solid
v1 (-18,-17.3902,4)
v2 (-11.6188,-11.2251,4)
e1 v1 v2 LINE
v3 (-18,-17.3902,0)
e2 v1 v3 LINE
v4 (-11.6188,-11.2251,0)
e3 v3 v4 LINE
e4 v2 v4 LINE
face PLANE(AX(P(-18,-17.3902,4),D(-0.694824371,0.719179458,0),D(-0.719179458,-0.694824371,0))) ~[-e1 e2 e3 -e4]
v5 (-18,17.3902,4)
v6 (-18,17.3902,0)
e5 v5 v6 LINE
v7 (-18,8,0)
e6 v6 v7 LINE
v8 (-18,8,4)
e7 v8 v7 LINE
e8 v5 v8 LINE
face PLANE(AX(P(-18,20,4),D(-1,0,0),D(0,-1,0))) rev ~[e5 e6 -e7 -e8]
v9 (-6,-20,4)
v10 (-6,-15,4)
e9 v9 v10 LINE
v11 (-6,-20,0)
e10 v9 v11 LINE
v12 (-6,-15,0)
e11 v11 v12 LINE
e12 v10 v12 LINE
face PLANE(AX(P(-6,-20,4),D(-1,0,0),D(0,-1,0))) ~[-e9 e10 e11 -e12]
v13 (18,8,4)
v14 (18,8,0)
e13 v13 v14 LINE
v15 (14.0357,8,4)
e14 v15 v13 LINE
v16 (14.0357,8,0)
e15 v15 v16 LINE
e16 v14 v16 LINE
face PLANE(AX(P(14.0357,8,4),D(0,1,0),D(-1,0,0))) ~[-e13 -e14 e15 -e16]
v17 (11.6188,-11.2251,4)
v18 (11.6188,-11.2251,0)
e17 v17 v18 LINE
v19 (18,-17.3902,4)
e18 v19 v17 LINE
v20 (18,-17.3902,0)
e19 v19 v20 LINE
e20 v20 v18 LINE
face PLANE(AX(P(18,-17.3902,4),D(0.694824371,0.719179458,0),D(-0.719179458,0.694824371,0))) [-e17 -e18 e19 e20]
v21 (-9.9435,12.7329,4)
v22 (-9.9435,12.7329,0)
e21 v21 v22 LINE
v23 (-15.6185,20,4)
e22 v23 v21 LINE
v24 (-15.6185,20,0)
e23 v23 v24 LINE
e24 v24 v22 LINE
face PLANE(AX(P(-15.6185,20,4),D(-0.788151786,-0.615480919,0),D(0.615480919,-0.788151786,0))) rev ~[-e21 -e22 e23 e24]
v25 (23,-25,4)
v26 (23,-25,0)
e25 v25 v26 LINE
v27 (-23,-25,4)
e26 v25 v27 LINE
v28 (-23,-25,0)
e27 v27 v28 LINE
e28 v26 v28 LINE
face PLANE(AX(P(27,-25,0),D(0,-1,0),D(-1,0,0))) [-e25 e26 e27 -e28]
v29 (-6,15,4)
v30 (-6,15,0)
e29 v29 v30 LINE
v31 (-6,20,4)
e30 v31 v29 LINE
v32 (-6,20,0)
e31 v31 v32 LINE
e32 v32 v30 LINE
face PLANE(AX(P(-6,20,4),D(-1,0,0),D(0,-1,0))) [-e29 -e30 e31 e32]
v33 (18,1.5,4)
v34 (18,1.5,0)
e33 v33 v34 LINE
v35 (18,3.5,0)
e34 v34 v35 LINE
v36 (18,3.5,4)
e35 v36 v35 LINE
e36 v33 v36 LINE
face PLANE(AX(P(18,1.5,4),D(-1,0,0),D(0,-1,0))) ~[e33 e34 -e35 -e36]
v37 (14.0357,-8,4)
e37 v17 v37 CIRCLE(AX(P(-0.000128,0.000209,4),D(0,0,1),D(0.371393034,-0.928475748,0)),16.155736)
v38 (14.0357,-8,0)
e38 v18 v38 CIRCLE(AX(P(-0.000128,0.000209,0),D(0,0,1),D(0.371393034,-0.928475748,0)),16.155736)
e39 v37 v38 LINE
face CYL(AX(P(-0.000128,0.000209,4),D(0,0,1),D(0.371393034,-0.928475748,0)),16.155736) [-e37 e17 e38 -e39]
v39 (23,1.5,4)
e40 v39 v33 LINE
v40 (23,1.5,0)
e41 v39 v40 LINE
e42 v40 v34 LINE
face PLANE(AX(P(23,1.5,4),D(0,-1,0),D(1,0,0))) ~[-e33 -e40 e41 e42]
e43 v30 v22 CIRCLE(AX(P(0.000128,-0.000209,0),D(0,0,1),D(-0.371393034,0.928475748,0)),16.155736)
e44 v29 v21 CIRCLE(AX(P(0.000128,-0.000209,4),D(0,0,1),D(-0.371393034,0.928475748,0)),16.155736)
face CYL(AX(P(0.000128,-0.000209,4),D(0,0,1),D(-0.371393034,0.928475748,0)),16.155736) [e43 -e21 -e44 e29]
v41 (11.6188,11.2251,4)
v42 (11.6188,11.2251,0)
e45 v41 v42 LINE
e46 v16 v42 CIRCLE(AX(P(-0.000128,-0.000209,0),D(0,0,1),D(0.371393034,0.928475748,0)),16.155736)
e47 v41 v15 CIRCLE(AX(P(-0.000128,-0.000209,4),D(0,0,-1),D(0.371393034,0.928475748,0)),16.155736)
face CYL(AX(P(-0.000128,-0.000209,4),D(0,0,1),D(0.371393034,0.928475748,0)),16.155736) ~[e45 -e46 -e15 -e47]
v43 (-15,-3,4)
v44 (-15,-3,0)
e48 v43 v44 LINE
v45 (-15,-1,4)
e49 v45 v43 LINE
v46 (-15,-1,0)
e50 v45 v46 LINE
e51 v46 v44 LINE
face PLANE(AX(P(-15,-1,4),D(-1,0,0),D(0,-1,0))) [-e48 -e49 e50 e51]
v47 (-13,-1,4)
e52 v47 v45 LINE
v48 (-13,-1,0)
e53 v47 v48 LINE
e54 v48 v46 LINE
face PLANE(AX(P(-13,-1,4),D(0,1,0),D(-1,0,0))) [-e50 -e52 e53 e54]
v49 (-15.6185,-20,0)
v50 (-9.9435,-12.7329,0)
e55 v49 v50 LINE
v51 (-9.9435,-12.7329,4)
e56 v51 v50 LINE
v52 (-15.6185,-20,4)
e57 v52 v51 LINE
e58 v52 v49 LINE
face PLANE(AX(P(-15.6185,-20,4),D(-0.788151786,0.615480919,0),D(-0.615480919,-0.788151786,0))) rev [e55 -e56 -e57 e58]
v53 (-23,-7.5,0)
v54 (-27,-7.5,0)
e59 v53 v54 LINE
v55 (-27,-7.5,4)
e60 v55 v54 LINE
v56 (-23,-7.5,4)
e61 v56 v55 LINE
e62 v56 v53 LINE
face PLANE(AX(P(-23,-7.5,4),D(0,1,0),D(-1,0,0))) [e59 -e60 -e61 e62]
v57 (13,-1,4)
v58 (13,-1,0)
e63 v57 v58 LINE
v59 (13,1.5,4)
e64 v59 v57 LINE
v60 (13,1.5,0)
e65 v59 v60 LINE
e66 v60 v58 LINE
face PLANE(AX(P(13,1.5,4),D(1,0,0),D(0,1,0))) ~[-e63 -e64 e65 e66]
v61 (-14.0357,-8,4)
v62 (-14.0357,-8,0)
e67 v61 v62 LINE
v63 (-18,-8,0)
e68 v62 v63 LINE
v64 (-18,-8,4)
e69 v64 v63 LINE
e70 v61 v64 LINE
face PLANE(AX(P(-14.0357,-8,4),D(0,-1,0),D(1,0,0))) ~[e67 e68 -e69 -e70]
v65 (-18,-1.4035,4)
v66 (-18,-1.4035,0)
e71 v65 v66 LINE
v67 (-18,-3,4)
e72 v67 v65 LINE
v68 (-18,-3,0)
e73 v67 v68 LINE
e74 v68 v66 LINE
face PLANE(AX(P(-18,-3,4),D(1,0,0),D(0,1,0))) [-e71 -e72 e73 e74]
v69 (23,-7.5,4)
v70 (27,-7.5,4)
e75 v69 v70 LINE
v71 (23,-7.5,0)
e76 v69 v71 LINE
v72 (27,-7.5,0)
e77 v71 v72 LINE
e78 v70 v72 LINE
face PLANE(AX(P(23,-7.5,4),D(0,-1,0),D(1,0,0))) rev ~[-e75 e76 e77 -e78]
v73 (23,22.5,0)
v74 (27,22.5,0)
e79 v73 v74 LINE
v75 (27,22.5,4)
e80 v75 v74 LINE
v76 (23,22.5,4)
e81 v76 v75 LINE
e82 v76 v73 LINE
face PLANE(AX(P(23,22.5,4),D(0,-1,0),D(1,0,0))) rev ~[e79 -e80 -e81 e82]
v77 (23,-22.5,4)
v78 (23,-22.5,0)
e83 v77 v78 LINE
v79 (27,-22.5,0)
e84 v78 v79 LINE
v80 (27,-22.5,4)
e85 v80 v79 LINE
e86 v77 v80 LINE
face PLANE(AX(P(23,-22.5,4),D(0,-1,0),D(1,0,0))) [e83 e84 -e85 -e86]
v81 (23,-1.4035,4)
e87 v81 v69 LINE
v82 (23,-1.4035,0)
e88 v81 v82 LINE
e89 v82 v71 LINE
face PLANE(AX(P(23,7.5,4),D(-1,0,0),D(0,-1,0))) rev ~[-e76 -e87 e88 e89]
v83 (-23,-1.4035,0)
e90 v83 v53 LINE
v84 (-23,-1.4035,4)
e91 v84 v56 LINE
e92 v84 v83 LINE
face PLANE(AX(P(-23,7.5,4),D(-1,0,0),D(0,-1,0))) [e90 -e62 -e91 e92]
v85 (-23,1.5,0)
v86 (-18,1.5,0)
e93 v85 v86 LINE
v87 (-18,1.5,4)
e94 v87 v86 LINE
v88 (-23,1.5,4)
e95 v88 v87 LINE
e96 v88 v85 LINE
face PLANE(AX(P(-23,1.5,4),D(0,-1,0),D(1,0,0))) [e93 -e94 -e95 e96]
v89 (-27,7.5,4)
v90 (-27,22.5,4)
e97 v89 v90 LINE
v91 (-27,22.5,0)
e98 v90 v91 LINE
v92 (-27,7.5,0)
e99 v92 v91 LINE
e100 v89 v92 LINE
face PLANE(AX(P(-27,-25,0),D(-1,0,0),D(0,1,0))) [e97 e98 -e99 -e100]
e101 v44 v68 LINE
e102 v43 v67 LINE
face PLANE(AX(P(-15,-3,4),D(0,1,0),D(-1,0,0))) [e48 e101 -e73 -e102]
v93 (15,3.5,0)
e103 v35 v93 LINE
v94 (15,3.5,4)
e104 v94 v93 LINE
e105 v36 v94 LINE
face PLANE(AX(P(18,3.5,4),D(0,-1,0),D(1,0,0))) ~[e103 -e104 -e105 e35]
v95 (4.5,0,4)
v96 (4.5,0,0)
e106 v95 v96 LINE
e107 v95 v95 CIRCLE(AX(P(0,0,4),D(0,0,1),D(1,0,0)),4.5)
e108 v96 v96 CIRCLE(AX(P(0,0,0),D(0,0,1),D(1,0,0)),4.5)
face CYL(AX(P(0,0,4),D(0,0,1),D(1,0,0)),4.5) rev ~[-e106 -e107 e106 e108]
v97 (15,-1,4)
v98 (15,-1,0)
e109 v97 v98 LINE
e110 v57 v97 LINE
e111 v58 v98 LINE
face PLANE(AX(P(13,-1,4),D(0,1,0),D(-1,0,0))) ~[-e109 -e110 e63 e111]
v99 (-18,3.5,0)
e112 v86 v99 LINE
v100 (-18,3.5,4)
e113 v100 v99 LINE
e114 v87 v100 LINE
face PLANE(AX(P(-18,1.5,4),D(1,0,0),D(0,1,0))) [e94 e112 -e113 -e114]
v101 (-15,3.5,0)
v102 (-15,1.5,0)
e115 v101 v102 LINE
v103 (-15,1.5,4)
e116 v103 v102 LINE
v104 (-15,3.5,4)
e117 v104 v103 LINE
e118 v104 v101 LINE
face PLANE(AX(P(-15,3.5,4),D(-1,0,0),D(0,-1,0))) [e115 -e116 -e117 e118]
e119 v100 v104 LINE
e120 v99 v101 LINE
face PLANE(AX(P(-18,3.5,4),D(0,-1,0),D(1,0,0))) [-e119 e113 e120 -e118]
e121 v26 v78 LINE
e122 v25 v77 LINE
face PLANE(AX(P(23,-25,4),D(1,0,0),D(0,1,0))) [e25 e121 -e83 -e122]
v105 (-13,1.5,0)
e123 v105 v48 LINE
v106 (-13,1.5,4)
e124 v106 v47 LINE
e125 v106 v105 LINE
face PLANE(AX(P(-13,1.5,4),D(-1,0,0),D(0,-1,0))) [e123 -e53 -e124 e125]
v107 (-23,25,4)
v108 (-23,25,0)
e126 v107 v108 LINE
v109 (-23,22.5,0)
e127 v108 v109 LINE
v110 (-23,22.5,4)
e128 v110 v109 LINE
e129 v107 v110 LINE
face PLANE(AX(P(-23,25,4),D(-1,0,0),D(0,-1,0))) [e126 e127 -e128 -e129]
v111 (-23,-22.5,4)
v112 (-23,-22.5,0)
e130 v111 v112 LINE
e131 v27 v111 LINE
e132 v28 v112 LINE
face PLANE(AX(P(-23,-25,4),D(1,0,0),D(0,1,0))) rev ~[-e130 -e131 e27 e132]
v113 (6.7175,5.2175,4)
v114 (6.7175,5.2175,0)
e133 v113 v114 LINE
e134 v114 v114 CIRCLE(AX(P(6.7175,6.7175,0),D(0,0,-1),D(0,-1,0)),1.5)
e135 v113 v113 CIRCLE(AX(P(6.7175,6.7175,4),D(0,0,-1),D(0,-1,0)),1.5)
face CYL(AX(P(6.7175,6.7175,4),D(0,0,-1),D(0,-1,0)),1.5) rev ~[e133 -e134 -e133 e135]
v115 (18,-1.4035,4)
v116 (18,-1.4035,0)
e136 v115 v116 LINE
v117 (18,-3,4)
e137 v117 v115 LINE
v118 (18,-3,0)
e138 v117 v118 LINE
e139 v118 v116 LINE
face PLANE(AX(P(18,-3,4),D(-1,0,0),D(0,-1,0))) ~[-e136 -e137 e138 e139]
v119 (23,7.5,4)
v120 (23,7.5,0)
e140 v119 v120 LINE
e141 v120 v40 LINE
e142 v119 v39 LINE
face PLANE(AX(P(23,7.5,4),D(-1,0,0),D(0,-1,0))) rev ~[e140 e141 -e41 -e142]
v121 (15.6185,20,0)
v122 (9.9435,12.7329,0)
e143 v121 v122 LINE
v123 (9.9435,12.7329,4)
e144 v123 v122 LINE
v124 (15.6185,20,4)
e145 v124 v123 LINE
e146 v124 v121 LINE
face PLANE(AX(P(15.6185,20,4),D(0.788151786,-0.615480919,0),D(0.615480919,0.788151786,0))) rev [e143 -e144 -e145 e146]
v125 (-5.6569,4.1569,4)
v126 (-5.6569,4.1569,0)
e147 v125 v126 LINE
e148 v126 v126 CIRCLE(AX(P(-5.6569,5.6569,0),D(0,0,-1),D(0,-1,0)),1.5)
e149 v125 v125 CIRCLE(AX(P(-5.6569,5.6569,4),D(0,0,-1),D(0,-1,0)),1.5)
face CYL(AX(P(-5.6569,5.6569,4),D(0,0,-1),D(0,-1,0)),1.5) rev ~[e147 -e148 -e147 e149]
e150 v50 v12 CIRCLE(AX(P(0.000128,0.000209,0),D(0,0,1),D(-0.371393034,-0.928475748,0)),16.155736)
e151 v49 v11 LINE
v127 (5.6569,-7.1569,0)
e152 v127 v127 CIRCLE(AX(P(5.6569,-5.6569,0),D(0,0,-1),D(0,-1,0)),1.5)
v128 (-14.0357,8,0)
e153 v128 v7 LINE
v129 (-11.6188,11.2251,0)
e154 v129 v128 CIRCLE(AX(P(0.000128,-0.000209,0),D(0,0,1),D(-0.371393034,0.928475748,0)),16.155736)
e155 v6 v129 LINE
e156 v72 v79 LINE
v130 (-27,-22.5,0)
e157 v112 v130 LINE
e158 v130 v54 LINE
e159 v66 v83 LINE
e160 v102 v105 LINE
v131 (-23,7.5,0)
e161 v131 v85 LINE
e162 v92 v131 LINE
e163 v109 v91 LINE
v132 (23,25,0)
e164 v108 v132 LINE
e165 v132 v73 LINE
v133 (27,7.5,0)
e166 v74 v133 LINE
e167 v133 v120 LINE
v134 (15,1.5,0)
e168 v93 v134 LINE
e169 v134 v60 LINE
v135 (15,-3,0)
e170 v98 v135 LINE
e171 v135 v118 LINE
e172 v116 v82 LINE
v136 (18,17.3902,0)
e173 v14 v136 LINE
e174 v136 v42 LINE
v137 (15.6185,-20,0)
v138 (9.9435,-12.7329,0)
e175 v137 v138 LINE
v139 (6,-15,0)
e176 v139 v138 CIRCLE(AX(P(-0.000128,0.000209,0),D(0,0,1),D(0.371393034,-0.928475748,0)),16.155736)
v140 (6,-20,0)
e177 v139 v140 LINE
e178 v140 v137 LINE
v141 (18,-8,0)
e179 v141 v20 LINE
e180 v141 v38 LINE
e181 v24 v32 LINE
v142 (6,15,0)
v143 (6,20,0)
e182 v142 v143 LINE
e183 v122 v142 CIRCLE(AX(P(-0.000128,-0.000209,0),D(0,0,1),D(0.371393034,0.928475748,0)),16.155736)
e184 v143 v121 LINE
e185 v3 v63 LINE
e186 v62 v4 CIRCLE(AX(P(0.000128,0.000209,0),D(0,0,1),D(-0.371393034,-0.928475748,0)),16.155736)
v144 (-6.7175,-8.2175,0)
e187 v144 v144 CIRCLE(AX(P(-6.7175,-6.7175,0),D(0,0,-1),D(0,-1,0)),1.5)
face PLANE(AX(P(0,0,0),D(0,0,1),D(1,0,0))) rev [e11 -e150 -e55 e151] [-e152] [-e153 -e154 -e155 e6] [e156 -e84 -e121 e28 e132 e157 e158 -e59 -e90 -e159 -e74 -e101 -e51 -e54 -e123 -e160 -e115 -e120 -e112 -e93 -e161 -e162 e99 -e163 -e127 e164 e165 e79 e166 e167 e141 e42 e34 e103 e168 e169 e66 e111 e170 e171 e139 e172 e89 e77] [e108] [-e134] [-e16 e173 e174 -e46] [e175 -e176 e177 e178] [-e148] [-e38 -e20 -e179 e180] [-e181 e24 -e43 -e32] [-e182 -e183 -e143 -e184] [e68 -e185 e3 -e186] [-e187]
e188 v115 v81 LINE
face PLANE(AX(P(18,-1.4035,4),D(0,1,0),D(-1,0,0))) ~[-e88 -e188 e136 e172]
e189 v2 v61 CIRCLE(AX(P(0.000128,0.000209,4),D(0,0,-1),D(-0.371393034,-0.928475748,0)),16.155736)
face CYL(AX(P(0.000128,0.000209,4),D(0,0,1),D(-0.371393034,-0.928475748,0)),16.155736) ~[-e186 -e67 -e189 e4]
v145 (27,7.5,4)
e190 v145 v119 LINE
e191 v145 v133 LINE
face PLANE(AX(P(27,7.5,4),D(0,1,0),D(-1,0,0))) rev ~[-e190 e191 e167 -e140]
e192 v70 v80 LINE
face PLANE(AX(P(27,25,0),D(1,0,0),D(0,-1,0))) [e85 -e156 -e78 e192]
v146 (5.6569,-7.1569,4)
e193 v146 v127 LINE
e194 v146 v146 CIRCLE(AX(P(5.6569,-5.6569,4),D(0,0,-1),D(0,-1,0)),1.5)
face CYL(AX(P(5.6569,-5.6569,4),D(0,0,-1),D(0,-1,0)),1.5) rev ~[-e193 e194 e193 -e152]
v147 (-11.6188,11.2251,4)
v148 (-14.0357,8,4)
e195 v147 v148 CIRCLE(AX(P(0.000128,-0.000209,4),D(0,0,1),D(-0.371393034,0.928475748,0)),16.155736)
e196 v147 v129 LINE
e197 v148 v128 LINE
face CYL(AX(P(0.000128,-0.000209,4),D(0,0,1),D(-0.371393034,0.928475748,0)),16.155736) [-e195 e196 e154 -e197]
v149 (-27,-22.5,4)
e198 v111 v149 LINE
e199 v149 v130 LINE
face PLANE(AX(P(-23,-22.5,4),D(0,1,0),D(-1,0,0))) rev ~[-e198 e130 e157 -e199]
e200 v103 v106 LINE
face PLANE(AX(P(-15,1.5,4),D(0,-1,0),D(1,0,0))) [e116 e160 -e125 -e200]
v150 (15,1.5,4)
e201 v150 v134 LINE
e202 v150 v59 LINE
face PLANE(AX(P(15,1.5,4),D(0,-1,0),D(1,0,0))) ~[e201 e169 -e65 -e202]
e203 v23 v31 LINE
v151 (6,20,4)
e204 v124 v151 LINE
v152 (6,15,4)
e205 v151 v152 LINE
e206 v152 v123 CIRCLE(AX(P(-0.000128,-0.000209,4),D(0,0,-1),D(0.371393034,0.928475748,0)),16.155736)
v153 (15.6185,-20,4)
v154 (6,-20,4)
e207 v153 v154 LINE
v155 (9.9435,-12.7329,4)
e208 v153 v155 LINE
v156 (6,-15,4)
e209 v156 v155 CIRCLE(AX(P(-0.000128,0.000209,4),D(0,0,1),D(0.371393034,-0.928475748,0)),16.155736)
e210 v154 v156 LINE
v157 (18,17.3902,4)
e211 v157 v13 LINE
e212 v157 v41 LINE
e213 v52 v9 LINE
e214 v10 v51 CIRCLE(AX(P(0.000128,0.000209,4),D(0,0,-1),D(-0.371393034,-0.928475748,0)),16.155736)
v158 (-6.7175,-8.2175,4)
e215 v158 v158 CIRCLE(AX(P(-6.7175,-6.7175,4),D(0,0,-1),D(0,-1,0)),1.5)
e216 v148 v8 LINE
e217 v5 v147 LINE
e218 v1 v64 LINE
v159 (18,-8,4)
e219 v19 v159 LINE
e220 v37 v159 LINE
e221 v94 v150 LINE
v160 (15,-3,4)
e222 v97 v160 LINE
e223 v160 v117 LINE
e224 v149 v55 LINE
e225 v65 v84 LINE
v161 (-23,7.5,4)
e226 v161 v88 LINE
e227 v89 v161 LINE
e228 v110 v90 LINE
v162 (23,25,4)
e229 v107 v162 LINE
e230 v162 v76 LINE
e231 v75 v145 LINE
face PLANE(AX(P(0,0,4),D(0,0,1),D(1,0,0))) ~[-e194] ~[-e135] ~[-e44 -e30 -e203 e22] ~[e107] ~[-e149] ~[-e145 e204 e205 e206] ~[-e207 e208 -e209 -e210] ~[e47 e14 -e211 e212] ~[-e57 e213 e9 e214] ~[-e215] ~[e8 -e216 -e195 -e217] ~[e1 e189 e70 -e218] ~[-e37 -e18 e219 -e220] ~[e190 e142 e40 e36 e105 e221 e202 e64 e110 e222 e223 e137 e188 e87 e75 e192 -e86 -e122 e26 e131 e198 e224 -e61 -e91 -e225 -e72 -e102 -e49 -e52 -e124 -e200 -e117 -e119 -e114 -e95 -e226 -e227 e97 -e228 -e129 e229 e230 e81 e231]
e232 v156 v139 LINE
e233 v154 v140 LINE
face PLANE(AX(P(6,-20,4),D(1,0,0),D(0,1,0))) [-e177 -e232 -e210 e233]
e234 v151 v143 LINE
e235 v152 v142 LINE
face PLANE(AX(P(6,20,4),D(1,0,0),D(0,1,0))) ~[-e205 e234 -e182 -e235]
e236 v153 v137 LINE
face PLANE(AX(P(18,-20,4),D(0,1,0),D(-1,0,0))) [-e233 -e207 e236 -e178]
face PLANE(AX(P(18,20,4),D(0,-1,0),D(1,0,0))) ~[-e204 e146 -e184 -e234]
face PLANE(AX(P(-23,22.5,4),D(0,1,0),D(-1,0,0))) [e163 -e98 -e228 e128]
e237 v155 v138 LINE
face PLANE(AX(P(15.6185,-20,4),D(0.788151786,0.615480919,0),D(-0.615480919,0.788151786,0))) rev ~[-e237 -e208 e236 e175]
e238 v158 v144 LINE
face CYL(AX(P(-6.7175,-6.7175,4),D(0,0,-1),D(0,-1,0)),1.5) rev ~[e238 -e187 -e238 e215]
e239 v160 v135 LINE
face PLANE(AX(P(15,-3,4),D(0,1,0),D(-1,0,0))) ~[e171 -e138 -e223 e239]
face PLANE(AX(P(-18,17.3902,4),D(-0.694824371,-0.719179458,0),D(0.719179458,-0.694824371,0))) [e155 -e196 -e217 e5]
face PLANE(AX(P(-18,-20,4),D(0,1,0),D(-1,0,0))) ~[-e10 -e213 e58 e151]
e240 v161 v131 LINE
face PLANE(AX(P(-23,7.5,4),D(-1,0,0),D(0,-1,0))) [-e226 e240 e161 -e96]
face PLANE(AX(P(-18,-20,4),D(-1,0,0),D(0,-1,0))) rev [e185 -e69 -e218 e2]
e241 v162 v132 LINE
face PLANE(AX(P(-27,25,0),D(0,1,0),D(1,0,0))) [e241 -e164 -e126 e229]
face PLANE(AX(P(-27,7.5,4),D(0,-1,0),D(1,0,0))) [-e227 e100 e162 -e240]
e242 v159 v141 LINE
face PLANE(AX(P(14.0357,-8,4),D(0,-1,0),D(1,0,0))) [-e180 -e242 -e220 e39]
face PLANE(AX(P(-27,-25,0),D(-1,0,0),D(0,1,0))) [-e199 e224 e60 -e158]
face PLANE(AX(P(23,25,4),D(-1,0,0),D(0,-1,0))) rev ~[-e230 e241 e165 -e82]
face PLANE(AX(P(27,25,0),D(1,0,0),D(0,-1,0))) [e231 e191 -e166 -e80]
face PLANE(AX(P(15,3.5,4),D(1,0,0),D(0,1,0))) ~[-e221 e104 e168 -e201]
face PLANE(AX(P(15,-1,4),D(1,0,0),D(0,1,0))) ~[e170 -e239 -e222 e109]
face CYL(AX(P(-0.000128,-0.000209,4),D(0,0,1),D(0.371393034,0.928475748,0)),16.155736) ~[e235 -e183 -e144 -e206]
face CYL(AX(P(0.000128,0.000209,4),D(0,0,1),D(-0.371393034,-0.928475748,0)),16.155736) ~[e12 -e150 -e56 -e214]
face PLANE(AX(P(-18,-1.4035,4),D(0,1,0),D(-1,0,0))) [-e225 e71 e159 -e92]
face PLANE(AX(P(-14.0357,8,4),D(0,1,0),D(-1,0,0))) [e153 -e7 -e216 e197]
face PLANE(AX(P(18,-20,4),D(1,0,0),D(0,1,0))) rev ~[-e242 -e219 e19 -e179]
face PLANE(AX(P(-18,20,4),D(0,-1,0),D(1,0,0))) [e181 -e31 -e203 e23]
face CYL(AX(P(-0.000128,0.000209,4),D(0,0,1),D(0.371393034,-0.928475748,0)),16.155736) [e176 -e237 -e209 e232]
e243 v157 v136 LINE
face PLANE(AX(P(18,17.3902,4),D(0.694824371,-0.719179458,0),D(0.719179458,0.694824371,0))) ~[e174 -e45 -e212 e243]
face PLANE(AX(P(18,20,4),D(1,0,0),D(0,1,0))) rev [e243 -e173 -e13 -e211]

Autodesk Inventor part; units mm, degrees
ref_plane "YZ Plane" through (0, 0, 0) normal (1, 0, 0) x (0, 1, 0)
ref_plane "XZ Plane" through (0, 0, 0) normal (0, 1, 0) x (-1, 0, 0)
ref_plane "XY Plane" through (0, 0, 0) normal (0, 0, 1) x (1, 0, 0)
sketch "Sketch1" plane through (0, 0, 0) normal (0, 0, 1) x (1, 0, 0)
  line L0 (-27, 25) -> (27, 25)
  line L1 (27, 25) -> (27, -25)
  line L2 (27, -25) -> (-27, -25)
  line L3 (-27, -25) -> (-27, 25)
  point P0 (0, 0)
  dimension "d0" = 54
  dimension "d1" = 50
  dimension "d2" = 25
  dimension "d3" = 27
extrude "Base" add sketch "Sketch1" along normal blind 4
sketch "Sketch2" plane through (0, 0, 4) normal (0, 0, 1) x (1, 0, 0)
  line L0 (-27, -25) -> (-27, 25) projected
  line L1 (0, 23.0221) -> (0, -15.4934) construction
  line L2 (-23.6958, 0) -> (15.7708, 0) construction
  line L3 (-27, 7.5) -> (-23, 7.5)
  line L4 (-23, 7.5) -> (-23, -7.5)
  line L5 (-23, -7.5) -> (-27, -7.5)
  line L6 (-27, -7.5) -> (-27, 7.5)
  line L7 (-27, 25) -> (-23, 25)
  line L8 (-23, 25) -> (-23, 22.5)
  line L9 (-23, 22.5) -> (-27, 22.5)
  line L10 (-27, 22.5) -> (-27, 25)
  line L11 (-27, -25) -> (-23, -25)
  line L12 (-23, -25) -> (-23, -22.5)
  line L13 (-23, -22.5) -> (-27, -22.5)
  line L14 (-27, -22.5) -> (-27, -25)
  line L15 (27, 7.5) -> (23, 7.5)
  line L16 (23, 7.5) -> (23, -7.5)
  line L17 (23, -7.5) -> (27, -7.5)
  line L18 (27, -7.5) -> (27, 7.5)
  line L19 (27, 25) -> (23, 25)
  line L20 (23, 25) -> (23, 22.5)
  line L21 (23, 22.5) -> (27, 22.5)
  line L22 (27, 22.5) -> (27, 25)
  line L23 (27, -25) -> (23, -25)
  line L24 (23, -25) -> (23, -22.5)
  line L25 (23, -22.5) -> (27, -22.5)
  line L26 (27, -22.5) -> (27, -25)
  point P0 (0, 0)
  point P1 (23.6958, 0)
  dimension "d9" = 4
  dimension "d10" = 15
  dimension "d11" = 4
  dimension "d13" = 7.5
  dimension "d14" = 15
  dimension "d15" = 15
  dimension "d16" = 4
extrude "Sleeves" cut sketch "Sketch2" against normal blind 4
sketch "Sketch3" plane through (0, 0, 4) normal (0, 0, 1) x (1, 0, 0)
  line L0 (0, 0) -> (-5.6569, 5.6569) construction
  line L1 (0, 0) -> (8, 0) construction
  line L2 (0, 0) -> (6.7175, 6.7175) construction
  line L3 (0, 0) -> (-6.7175, -6.7175) construction
  line L4 (0, 0) -> (5.6569, -5.6569) construction
  dimension "d19" = 8
  dimension "d20" = 135
  dimension "d21" = 9.5
  dimension "d22" = 9.5
  dimension "d23" = 8
hole "MotorMounts" at (6.7175, 6.7175, 4) at (-5.6569, 5.6569, 4) at (-6.7175, -6.7175, 4) at (5.6569, -5.6569, 4) direction (0, 0, -1) diameter 3 end through all
sketch "Sketch4" plane through (0, 0, 4) normal (0, 0, 1) x (1, 0, 0)
  circle A0 centre (0, 0) radius 4.5
  dimension "d31" = 9
extrude "ShaftClearance" cut sketch "Sketch4" against normal through all
sketch "Sketch5" plane through (0, 0, 4) normal (0, 0, 1) x (1, 0, 0)
  circle A0 centre (0, 0) radius 4.5 projected
  line L0 (-23, 7.5) -> (-23, -7.5) projected
  line L1 (23, -7.5) -> (23, 7.5) projected
  line L2 (-23, 1.5) -> (-18, 1.5)
  line L3 (-18, 1.5) -> (-18, 3.5)
  line L4 (-18, 3.5) -> (-15, 3.5)
  line L5 (-15, 3.5) -> (-15, 1.5)
  line L6 (-15, 1.5) -> (-13, 1.5)
  line L7 (-13, 1.5) -> (-13, -1)
  line L8 (-13, -1) -> (-15, -1)
  line L9 (-15, -1) -> (-15, -3)
  line L10 (-15, -3) -> (-18, -3)
  line L11 (-18, -3) -> (-18, -1.4035)
  line L12 (-18, -1.4035) -> (-23, -1.4035)
  line L13 (-23, -1.4035) -> (-23, 1.5)
  dimension "d34" = 5
  dimension "d35" = 2
  dimension "d36" = 3
  dimension "d37" = 2
  dimension "d38" = 2.5
  dimension "d39" = 2
  dimension "d40" = 3
  dimension "d41" = 1.5
extrude "ScrewLock" cut sketch "Sketch5" against normal blind 10 contours L2 L3 L4 L5 L6 L7 L8 L9 L10 L11 L12 L0
mirror "ScrewLockDoubler" about plane through (0, 0, 0) normal (1, 0, 0) of "ScrewLock"
sketch "Sketch6" plane through (0, 0, 4) normal (0, 0, 1) x (1, 0, 0)
  line L0 (-23, 25) -> (23, 25) projected
  line L1 (-23, 25) -> (-23, 22.5) projected
  line L2 (18, 3.5) -> (18, 1.5) projected
  line L3 (-18, 20) -> (-6, 20)
  line L4 (-6, 20) -> (-6, 15)
  line L5 (-18, 20) -> (-18, 8)
  line L6 (15, 3.5) -> (18, 3.5) projected
  circle A0 centre (0, 0) radius 4.5 projected
  arc A1 (-6, 15) -> (-14.0357, 8) centre (0, 0) ccw
  line L7 (-14.0357, 8) -> (-18, 8)
  dimension "d44" = 5
  dimension "d45" = 12
  dimension "d46" = 12
  dimension "d48" = 5
  dimension "d49" = 5
extrude "CornerCutout" cut sketch "Sketch6" against normal blind 10 contours L3 L4 A1 L7 L5
sketch "Sketch7" plane through (0, 0, 4) normal (0, 0, 1) x (1, 0, 0)
  line L0 (-18, 8) -> (-18, 20) projected
  line L1 (-18, 20) -> (-6, 20) projected
  arc A0 (-6, 15) -> (-14.0357, 8) centre (0, 0) ccw projected
  line L2 (18, 3.5) -> (18, 1.5) projected
  circle A1 centre (0, 0) radius 4.5 projected
  line L3 (0, 0) -> (-18.1317, 23.2182) construction
  line L4 (0, 0) -> (-21.2105, 20.4919) construction
  line L5 (0, 0) -> (-18, 20) construction
  line L6 (-15.6185, 20) -> (-9.9435, 12.7329)
  line L7 (-15.6185, 20) -> (-18, 20)
  line L8 (-18, 17.3902) -> (-18, 20)
  line L9 (-18, 17.3902) -> (-11.6188, 11.2251)
  arc A2 (-9.9435, 12.7329) -> (-11.6188, 11.2251) centre (0, 0) ccw
  dimension "d52" = 8
  dimension "d54" = 4
extrude "DiagonalSupport" add sketch "Sketch7" against normal blind 4 contours L0 L1 L6 A0 L9
mirror "CornerDoubler" about plane through (0, 0, 0) normal (0, 1, 0) of "CornerCutout", "DiagonalSupport"
mirror "CornerQuadrupler" about plane through (0, 0, 0) normal (1, 0, 0) of "CornerCutout", "CornerDoubler", "DiagonalSupport"
properties part number "MotorSupport"
